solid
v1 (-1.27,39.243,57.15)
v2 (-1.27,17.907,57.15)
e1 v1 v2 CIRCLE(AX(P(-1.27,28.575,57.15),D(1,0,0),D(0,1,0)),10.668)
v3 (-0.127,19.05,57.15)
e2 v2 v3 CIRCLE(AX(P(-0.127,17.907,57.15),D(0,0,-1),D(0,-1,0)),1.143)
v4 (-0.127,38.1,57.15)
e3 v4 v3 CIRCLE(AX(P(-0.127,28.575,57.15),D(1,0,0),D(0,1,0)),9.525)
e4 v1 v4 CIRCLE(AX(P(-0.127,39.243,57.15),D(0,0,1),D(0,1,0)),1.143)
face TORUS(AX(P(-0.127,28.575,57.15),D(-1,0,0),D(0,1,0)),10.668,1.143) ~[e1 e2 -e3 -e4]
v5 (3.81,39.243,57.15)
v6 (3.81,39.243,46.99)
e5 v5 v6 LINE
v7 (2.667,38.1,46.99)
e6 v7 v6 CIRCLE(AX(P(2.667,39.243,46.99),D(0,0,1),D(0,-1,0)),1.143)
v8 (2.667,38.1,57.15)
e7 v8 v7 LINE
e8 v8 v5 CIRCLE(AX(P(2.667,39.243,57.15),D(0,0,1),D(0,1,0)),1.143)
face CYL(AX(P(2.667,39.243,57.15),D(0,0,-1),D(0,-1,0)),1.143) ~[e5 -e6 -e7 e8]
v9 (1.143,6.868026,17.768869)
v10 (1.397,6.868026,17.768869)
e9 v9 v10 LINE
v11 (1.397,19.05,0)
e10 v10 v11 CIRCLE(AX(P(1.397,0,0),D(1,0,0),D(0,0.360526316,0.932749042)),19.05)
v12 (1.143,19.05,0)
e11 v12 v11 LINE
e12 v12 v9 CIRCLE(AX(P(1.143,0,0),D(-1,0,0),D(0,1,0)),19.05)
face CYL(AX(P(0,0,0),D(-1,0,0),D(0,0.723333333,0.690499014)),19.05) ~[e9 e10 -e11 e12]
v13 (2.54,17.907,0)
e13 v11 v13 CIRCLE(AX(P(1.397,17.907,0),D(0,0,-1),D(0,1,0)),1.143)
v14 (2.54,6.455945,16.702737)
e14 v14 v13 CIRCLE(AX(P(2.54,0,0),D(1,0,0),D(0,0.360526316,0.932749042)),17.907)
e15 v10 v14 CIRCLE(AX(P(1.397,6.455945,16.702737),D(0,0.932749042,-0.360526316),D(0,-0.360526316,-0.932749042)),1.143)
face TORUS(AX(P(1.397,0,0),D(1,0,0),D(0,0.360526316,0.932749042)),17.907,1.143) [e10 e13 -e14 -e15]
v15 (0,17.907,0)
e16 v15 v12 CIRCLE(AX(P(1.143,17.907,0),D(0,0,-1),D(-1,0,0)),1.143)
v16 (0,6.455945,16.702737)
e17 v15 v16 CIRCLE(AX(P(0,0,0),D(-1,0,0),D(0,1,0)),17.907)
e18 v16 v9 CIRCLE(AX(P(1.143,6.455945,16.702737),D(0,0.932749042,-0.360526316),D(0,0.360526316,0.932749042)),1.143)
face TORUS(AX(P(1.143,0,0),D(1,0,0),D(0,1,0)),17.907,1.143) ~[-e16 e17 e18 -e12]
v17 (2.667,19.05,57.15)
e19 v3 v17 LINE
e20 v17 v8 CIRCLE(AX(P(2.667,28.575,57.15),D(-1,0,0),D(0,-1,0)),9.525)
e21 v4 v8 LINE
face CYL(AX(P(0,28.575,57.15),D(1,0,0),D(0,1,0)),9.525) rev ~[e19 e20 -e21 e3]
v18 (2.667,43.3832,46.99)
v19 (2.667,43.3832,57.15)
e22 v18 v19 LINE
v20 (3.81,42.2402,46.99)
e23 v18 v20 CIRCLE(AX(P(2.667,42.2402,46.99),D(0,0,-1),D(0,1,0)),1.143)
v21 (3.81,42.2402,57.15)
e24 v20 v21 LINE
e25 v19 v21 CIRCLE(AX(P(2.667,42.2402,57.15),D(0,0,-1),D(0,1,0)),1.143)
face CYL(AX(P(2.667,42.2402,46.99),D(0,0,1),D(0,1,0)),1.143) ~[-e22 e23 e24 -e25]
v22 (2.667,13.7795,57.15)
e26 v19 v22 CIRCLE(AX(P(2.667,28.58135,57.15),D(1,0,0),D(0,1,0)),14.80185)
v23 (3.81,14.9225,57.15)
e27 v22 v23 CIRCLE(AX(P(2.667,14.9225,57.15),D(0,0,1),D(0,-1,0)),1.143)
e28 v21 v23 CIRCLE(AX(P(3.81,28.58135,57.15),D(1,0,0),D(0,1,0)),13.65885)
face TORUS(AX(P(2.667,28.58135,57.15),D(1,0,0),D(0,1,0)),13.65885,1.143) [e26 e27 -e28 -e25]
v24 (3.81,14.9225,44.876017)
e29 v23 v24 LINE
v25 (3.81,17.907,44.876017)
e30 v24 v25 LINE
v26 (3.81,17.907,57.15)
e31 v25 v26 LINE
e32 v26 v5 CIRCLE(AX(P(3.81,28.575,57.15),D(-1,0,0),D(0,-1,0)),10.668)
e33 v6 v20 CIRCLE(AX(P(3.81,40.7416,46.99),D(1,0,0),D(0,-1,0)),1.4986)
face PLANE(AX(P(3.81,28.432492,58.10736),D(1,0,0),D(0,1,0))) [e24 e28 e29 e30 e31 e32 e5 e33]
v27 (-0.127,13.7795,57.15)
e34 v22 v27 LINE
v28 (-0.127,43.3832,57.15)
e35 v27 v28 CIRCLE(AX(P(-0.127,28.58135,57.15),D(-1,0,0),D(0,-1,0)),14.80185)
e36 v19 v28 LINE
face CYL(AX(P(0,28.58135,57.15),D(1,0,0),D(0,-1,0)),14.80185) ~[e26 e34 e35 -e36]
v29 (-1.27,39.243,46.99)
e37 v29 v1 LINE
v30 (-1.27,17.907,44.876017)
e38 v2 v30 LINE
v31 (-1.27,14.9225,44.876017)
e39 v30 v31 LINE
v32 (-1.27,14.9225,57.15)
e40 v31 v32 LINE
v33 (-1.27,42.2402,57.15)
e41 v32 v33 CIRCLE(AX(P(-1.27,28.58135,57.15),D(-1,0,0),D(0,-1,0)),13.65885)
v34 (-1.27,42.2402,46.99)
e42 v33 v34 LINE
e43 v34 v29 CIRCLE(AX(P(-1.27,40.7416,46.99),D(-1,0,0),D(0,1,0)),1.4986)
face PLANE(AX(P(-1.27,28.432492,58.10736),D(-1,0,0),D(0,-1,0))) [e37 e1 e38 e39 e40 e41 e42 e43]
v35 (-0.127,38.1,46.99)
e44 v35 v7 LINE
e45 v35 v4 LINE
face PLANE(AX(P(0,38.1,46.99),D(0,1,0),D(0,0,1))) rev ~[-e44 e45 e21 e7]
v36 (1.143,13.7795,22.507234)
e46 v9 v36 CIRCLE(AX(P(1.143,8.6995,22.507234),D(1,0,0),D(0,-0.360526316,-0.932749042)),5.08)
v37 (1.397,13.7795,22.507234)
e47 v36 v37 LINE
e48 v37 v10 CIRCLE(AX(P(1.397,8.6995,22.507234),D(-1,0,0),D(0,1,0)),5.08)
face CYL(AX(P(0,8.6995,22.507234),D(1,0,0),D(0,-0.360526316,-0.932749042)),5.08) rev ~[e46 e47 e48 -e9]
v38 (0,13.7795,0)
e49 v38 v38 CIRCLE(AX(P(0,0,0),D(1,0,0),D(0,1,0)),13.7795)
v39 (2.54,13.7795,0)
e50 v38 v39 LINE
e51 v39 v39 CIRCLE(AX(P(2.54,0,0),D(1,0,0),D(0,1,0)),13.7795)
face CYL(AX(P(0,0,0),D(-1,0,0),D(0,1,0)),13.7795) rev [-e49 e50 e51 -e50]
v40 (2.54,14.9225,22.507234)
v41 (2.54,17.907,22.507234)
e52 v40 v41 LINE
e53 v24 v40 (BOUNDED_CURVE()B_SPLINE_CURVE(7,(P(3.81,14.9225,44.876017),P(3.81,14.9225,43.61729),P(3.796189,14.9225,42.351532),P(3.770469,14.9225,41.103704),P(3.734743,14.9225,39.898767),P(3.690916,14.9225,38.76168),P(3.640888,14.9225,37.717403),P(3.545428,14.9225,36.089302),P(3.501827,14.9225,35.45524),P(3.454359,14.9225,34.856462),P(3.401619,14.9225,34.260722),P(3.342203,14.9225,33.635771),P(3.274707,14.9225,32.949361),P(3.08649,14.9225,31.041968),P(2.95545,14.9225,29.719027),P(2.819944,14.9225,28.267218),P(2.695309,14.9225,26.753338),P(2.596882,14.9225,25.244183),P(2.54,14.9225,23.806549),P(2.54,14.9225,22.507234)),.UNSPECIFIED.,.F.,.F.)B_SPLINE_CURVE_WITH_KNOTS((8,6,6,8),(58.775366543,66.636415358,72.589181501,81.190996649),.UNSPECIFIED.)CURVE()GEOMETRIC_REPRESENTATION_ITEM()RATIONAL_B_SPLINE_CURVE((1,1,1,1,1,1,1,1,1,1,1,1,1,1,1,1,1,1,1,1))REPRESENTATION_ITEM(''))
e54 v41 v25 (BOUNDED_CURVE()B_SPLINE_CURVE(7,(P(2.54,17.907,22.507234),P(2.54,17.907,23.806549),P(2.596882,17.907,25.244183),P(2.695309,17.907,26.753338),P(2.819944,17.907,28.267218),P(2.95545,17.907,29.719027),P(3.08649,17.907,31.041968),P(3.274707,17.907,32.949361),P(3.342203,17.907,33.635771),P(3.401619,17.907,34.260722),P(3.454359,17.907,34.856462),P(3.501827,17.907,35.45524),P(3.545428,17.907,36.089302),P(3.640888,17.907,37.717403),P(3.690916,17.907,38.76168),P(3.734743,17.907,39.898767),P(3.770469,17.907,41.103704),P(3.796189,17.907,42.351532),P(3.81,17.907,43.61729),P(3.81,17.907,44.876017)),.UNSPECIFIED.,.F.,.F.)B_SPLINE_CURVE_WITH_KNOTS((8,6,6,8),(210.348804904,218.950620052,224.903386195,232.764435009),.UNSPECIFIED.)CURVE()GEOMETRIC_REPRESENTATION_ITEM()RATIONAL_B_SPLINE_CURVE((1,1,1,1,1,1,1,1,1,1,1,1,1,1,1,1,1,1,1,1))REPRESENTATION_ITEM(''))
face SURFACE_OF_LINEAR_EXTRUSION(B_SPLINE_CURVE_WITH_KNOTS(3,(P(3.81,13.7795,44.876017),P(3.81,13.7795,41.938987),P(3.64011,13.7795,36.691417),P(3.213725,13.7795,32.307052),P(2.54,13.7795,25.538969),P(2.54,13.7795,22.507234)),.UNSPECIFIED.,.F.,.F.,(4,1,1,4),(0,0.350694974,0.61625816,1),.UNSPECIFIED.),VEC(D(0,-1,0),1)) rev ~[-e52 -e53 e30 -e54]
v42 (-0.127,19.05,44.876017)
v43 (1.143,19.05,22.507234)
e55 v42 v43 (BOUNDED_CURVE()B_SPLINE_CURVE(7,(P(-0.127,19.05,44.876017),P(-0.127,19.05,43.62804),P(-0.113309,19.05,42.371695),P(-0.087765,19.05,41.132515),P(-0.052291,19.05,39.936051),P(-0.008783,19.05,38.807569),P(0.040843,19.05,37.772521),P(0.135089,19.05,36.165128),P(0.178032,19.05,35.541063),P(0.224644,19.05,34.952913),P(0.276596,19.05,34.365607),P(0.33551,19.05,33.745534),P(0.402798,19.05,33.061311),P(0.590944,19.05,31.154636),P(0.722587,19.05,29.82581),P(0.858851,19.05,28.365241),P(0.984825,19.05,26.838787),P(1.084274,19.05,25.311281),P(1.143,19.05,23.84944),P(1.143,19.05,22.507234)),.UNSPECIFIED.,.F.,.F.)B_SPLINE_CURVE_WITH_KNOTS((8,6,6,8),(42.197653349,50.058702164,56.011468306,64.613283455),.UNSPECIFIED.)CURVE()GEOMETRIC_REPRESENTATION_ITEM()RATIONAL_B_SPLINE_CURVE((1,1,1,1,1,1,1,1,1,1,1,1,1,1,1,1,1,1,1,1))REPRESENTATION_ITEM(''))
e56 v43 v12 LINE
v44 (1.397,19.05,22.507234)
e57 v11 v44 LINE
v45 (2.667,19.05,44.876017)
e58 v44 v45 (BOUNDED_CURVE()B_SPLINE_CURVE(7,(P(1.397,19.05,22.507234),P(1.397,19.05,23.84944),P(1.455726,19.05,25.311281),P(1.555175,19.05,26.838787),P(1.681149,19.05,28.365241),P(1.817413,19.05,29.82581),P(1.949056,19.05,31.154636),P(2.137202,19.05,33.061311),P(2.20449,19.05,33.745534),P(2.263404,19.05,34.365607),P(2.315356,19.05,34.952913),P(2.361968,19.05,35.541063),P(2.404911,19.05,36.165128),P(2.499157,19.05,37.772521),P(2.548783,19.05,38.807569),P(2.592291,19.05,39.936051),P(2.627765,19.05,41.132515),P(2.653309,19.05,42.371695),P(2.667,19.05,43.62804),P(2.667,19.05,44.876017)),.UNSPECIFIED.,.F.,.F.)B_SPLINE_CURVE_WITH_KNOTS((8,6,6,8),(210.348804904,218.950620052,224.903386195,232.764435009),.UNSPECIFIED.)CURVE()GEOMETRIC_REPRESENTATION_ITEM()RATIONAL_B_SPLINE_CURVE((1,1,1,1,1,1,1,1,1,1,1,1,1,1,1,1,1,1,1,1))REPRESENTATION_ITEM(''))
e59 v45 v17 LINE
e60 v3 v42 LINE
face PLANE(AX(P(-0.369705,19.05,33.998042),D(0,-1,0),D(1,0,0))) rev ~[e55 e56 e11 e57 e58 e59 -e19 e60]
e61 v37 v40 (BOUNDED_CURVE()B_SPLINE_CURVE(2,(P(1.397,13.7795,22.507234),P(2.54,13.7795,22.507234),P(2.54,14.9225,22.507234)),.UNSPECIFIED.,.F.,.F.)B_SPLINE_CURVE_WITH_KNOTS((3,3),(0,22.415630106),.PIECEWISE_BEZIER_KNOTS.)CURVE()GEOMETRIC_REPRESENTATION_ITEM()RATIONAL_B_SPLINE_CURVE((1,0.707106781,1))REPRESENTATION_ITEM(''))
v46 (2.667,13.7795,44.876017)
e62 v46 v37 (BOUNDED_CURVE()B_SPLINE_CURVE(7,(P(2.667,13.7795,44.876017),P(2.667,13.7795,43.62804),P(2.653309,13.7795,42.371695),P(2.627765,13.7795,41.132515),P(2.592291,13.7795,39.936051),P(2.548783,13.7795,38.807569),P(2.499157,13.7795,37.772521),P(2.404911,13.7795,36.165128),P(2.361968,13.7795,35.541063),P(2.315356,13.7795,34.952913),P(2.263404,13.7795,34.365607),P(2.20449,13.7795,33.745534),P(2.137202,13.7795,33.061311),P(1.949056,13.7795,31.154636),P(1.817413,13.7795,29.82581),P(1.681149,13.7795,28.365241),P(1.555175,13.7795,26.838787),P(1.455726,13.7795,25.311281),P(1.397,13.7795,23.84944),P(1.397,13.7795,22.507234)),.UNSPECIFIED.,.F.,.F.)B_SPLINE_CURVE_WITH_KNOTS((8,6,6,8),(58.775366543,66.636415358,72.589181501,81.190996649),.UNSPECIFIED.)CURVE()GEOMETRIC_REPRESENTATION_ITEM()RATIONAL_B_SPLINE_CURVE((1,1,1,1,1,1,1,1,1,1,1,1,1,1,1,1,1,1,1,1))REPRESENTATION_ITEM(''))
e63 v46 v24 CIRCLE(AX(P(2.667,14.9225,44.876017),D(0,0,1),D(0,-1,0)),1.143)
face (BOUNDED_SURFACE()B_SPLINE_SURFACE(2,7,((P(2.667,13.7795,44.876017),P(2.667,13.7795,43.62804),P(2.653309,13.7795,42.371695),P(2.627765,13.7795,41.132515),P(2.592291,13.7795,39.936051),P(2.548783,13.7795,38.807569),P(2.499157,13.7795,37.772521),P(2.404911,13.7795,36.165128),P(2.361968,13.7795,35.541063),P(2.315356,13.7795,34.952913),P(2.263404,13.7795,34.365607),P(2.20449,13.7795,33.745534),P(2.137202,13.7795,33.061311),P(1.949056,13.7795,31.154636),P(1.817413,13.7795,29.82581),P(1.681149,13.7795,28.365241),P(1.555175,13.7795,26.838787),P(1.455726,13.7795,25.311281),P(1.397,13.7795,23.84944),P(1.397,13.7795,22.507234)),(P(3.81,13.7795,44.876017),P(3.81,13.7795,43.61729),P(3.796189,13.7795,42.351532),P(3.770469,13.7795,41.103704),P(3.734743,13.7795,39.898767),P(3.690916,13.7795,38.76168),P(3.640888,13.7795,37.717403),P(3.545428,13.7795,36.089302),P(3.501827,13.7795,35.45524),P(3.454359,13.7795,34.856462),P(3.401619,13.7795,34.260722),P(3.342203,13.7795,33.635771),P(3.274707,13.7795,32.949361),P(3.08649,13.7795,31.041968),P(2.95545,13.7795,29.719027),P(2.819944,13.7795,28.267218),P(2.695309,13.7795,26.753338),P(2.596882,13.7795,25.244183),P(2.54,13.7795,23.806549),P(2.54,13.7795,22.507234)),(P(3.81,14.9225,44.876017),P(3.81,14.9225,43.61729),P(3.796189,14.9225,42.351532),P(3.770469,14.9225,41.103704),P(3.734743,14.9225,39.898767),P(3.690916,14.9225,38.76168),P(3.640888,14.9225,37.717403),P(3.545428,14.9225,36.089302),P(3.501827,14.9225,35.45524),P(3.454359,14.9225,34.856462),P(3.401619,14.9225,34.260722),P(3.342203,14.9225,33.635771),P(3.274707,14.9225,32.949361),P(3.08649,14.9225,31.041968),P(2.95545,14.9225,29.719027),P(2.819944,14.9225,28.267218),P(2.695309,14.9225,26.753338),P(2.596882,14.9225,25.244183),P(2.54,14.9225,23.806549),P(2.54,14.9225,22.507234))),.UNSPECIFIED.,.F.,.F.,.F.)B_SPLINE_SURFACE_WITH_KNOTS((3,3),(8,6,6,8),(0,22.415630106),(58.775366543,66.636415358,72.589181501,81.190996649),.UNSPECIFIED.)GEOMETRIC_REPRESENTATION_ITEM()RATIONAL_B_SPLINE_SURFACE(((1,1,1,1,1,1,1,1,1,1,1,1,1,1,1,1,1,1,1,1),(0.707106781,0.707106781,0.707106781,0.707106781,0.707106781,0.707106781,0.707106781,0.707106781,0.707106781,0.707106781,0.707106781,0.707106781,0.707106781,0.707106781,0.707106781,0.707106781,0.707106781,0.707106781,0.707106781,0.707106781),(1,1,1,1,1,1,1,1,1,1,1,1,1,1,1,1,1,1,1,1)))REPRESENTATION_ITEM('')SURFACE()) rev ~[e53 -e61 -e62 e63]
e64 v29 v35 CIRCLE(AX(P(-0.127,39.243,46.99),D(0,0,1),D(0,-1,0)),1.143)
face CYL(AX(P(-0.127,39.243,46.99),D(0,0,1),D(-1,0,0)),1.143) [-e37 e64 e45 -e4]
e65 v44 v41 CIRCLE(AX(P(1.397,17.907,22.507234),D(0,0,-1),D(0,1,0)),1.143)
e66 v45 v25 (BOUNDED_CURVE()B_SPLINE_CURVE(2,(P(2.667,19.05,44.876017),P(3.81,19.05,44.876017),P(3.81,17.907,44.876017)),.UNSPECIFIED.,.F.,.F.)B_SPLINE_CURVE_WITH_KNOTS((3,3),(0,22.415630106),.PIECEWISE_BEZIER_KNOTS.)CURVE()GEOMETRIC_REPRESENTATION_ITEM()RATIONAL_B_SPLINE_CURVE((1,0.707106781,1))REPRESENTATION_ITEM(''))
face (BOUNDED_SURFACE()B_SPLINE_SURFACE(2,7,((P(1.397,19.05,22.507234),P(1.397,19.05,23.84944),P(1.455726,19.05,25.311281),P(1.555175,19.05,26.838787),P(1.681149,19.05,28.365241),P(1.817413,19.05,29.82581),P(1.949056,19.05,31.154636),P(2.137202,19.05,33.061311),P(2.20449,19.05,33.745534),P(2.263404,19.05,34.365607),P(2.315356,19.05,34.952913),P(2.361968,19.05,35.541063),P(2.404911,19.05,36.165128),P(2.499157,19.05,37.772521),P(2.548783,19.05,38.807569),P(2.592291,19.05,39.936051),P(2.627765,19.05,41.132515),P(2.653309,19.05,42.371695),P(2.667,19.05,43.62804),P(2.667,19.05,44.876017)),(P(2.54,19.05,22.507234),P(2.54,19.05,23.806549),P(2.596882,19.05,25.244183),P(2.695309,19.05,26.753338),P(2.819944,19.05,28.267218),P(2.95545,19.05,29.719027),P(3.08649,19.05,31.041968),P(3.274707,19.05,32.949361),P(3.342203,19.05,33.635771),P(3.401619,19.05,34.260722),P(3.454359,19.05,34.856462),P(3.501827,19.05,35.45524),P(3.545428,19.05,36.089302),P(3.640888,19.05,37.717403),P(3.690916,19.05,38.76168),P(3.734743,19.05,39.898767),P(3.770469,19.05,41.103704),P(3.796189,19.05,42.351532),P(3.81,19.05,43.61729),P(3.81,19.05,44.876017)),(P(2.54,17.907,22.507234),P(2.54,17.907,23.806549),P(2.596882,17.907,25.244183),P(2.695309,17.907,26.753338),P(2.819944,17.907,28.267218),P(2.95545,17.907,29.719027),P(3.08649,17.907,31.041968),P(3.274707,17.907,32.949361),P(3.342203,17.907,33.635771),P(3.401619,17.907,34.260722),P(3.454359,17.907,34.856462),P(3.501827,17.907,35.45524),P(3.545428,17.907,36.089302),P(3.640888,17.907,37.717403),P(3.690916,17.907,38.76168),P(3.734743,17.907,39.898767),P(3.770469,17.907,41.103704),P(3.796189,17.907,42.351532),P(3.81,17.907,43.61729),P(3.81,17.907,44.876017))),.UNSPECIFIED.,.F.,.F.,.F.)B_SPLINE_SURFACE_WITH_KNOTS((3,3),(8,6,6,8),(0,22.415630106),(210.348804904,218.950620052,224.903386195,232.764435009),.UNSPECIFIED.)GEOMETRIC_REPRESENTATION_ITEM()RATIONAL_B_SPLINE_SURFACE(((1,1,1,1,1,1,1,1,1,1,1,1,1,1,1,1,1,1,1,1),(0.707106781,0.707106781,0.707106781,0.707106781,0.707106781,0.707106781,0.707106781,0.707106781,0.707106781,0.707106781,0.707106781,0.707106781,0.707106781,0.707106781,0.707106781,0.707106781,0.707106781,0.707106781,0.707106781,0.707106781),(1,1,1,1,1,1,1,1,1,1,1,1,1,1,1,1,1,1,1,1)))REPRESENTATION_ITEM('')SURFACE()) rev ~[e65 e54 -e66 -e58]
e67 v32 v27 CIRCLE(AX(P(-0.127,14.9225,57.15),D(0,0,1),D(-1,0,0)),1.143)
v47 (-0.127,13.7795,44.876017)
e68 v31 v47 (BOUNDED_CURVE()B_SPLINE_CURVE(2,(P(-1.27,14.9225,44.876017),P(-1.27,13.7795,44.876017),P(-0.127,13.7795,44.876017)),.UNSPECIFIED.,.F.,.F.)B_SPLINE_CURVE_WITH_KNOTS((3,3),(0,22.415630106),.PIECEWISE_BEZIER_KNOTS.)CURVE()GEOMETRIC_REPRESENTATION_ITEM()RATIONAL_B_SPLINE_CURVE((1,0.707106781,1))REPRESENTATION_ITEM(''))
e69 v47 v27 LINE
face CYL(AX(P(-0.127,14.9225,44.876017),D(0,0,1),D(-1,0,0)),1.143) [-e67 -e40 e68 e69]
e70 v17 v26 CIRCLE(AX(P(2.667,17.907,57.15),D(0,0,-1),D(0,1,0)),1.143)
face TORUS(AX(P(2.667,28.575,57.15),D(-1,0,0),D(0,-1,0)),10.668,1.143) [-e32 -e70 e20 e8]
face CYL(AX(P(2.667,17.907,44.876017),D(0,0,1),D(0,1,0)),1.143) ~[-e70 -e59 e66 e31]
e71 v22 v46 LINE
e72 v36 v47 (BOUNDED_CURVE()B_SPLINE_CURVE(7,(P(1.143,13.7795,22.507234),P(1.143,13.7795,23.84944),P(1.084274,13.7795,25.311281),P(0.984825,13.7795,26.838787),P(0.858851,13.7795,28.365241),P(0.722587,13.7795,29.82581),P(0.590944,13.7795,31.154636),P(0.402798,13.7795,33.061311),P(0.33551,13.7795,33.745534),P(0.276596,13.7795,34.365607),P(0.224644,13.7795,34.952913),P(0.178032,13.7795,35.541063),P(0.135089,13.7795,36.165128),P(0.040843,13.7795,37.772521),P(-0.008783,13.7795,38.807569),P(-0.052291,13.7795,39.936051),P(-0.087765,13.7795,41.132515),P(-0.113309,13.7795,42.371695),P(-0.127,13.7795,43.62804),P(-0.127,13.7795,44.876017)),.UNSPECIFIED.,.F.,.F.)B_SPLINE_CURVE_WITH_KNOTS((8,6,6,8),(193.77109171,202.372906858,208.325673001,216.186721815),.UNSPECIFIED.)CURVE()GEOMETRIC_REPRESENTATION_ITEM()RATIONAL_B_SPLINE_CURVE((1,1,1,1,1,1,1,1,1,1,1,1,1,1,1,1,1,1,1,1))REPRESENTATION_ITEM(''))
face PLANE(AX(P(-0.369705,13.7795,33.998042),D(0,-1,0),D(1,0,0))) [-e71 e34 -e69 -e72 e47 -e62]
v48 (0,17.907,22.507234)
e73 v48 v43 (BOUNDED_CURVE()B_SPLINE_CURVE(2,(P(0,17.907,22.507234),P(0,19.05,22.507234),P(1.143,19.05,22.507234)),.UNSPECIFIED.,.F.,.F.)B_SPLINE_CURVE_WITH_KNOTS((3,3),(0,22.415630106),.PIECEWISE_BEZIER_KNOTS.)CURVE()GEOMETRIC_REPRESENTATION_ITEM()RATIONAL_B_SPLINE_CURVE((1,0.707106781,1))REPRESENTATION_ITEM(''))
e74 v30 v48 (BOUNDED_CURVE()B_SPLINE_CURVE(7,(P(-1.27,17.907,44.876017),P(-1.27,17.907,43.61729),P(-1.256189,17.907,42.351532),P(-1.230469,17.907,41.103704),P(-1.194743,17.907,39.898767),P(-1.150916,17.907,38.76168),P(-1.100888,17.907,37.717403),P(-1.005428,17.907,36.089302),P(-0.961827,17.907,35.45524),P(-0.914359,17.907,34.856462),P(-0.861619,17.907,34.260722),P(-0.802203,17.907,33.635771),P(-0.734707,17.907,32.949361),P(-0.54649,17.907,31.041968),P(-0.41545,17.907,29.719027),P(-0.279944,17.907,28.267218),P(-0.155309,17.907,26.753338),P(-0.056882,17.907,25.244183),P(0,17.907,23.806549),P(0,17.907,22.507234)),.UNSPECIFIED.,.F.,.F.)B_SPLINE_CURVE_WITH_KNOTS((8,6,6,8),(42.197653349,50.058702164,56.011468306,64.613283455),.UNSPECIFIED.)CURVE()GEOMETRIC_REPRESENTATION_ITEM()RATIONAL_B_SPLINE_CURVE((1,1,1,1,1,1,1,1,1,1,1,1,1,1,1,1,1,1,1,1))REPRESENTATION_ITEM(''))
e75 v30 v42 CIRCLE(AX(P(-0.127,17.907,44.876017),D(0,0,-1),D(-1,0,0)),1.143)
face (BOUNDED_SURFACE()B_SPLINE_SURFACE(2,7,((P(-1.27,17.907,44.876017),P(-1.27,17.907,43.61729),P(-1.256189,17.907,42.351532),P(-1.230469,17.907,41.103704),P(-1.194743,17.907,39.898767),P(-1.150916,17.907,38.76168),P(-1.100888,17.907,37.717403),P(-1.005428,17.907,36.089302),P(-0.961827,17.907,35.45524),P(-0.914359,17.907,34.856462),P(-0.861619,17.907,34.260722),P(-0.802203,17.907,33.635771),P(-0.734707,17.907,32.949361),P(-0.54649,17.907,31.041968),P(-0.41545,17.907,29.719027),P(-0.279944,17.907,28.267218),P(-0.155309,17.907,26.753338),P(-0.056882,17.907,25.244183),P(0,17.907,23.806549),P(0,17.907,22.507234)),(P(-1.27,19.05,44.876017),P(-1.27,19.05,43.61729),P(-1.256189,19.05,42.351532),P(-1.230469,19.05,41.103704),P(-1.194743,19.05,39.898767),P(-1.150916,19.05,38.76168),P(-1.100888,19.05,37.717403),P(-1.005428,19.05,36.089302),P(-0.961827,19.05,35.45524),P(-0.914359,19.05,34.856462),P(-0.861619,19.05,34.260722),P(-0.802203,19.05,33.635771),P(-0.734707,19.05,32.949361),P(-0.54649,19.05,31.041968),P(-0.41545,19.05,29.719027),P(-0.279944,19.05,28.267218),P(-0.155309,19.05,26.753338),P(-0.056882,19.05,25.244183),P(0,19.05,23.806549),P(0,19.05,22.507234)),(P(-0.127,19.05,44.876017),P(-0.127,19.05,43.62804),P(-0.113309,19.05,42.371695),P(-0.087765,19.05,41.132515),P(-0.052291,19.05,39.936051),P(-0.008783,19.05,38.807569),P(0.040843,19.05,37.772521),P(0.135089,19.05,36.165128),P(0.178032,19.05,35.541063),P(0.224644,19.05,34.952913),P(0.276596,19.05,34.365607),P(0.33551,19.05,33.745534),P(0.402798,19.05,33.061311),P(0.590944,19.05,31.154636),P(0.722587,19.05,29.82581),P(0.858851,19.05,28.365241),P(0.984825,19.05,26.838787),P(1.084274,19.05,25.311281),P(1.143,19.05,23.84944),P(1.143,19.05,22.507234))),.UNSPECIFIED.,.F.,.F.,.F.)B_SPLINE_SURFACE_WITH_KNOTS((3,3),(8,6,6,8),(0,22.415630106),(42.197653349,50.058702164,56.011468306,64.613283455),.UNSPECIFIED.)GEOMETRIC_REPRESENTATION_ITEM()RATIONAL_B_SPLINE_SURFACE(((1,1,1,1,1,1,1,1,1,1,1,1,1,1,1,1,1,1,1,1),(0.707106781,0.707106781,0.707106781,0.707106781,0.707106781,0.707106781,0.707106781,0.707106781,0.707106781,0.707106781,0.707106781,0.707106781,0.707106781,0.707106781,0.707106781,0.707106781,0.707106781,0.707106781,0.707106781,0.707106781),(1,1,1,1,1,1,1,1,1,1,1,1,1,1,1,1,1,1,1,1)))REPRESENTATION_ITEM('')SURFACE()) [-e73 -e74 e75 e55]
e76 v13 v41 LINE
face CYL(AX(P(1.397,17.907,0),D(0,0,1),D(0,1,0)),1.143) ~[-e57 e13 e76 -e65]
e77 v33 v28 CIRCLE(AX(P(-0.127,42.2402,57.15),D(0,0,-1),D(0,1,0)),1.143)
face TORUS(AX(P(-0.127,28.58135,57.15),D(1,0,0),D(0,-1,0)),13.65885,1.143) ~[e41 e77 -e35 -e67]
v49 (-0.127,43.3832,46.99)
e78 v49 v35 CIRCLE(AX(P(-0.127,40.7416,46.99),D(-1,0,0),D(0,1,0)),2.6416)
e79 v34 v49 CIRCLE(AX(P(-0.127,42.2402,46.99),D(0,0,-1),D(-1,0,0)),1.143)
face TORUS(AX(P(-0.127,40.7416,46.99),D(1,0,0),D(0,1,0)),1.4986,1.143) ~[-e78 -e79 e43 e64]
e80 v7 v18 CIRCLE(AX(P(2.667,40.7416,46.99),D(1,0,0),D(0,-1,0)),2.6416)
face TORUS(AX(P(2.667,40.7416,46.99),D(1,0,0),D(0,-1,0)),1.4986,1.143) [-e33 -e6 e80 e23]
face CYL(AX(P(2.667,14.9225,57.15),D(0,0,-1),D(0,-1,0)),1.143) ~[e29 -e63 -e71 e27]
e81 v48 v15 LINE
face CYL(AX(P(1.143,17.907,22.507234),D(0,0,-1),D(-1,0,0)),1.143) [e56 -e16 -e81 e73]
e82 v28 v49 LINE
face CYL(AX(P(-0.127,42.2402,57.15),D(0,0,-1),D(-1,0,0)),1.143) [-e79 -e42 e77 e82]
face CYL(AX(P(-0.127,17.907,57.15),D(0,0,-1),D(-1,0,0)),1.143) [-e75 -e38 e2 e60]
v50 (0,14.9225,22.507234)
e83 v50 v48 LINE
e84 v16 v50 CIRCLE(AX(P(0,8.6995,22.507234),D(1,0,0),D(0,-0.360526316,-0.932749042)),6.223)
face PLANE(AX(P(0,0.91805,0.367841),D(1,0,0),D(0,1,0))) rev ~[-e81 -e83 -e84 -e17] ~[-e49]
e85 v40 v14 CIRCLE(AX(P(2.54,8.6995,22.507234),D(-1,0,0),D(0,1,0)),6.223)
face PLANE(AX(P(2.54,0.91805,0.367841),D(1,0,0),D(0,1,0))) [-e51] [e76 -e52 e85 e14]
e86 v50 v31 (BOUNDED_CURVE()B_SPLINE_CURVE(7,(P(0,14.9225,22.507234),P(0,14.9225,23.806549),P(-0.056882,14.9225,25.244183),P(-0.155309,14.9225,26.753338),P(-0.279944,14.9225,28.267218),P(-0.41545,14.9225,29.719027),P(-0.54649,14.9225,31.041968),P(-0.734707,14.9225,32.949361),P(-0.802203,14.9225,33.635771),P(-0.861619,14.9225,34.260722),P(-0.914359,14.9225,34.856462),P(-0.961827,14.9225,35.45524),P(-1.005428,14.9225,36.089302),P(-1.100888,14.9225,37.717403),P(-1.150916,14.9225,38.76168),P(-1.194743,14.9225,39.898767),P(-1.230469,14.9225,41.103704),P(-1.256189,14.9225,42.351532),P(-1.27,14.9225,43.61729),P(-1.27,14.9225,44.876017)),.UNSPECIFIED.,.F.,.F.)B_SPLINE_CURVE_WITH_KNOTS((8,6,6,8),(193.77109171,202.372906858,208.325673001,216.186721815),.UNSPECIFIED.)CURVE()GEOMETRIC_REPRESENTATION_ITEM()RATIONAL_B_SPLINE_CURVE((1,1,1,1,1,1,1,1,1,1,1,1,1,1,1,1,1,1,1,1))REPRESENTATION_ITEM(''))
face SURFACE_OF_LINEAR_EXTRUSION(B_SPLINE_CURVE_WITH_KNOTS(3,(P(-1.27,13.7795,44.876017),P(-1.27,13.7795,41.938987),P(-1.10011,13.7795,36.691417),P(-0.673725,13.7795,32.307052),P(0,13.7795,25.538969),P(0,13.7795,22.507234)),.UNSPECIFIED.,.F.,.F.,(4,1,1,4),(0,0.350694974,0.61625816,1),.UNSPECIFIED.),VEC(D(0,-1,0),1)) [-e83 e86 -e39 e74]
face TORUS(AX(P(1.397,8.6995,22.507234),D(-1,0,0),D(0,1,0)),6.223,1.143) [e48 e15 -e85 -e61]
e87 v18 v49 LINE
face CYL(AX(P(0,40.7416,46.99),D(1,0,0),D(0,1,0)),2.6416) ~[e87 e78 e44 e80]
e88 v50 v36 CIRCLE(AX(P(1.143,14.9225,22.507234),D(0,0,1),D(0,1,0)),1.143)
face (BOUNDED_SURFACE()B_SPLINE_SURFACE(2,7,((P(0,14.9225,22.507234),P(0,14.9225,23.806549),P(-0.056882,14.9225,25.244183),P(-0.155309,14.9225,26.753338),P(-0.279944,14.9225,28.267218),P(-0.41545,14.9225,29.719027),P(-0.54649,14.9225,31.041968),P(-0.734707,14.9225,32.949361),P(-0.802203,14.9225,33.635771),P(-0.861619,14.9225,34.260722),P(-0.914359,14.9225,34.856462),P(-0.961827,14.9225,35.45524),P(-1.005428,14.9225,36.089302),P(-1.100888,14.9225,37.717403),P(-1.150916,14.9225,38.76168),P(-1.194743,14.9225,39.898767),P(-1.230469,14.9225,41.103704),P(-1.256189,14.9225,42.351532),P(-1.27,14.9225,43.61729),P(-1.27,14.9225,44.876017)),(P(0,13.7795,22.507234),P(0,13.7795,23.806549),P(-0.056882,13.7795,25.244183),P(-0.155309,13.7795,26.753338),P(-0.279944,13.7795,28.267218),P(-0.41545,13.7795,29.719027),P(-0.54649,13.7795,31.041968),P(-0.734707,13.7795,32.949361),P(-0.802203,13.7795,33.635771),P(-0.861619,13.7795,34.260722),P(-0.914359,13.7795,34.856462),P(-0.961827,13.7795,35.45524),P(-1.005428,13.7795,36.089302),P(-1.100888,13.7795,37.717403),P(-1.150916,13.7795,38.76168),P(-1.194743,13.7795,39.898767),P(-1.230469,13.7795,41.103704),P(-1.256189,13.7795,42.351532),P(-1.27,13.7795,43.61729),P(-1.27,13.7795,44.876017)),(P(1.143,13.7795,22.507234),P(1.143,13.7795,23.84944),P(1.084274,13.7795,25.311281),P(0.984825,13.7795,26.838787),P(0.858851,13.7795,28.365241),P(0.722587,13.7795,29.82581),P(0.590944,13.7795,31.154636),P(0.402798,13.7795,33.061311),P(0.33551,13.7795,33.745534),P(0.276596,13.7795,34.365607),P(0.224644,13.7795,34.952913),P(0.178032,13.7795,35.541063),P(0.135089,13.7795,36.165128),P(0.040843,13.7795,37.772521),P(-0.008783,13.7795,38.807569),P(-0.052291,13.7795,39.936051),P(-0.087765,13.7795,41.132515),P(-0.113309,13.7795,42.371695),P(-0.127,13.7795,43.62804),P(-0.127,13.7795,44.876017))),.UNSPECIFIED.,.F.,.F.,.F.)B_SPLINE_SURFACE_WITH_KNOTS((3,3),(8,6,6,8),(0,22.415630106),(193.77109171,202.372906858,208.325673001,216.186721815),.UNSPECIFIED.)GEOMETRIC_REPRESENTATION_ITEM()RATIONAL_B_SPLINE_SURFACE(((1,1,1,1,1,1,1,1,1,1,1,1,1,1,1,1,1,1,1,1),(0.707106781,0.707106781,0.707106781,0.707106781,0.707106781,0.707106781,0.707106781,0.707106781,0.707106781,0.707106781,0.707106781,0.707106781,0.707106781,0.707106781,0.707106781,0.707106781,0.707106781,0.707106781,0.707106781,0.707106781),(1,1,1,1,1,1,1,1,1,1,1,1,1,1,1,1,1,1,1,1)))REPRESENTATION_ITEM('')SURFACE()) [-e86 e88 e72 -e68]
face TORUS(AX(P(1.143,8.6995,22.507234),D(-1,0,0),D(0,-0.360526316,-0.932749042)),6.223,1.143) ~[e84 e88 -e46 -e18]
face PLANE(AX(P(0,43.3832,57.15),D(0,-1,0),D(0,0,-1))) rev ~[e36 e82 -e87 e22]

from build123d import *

# Parameters (mm, degrees)
F0_R     = 13.7795
F1_DEPTH = 2.54
F2_R     = 5.08
F4_DEPTH = 1.27
F6_DEPTH = 1.27
F8_DEPTH = 5.2705
F9_R     = 1.143


with BuildPart() as f1:
    # F0 (on Right) → F1 (new body)
    with BuildSketch(Plane.YZ):
        with BuildLine():
            ThreePointArc((19.05, 0), (17.6833534009, 7.0853025694), (13.7795, 13.1540062243))
            ThreePointArc((13.7795, 13.1540062243), (-17.6833534009, -7.0853025694), (19.05, 0))
        make_face()
        Circle(F0_R, mode=Mode.SUBTRACT)
        with BuildLine():
            Line((13.7795, 57.15), (13.7795, 13.1540062243))
            ThreePointArc((13.7795, 13.1540062243), (17.6833534009, 7.0853025694), (19.05, 0))
            Line((19.05, 0), (19.05, 57.15))
            ThreePointArc((19.05, 57.15), (28.575, 66.675), (38.1, 57.15))
            Line((38.1, 57.15), (38.1, 46.99))
            ThreePointArc((38.1, 46.99), (40.7416, 44.3484), (43.3832, 46.99))
            Line((43.3832, 46.99), (43.3832, 57.15))
            ThreePointArc((43.3832, 57.15), (28.58135, 71.95185), (13.7795, 57.15))
        make_face()
    extrude(amount=F1_DEPTH)

    # F2
    f2_edges = [f1.edges().sort_by_distance(p)[0] for p in [
        (1.27, 13.7795, 13.154006),
    ]]
    fillet(f2_edges, radius=F2_R)

    # F3 (on face) → F4 (join)
    with BuildSketch(Plane.YZ.offset(2.54)):
        with BuildLine():
            Line((13.7795, 44.8760166764), (19.05, 44.8760166764))
            Line((19.05, 44.8760166764), (19.05, 57.15))
            ThreePointArc((19.05, 57.15), (28.575, 66.675), (38.1, 57.15))
            Line((38.1, 57.15), (38.1, 46.99))
            ThreePointArc((38.1, 46.99), (40.7416, 44.3484), (43.3832, 46.99))
            Line((43.3832, 46.99), (43.3832, 57.15))
            ThreePointArc((43.3832, 57.15), (28.58135, 71.95185), (13.7795, 57.15))
            Line((13.7795, 57.15), (13.7795, 44.8760166764))
        make_face()
    extrude(amount=F4_DEPTH)

    # F5 (on face) → F6 (join)
    with BuildSketch(Plane(origin=(0, 0, 0), x_dir=(0, -1, 0), z_dir=(-1, 0, 0))):
        with BuildLine():
            Line((-19.05, 57.15), (-19.05, 44.8760166764))
            Line((-19.05, 44.8760166764), (-13.7795, 44.8760166764))
            Line((-13.7795, 44.8760166764), (-13.7795, 57.15))
            ThreePointArc((-13.7795, 57.15), (-28.58135, 71.95185), (-43.3832, 57.15))
            Line((-43.3832, 57.15), (-43.3832, 46.99))
            ThreePointArc((-43.3832, 46.99), (-40.7416, 44.3484), (-38.1, 46.99))
            Line((-38.1, 46.99), (-38.1, 57.15))
            ThreePointArc((-38.1, 57.15), (-28.575, 66.675), (-19.05, 57.15))
        make_face()
    extrude(amount=F6_DEPTH)

    # F7 (on face) → F8 (join, through all)
    with BuildSketch(Plane.XZ.offset(-13.7795)):
        with BuildLine():
            Line((0, 44.8760166764), (-1.27, 44.8760166764))
            add(Edge.make_bspline(
                [(-1.27, 44.8760166764), (-1.27, 41.9389868527), (-1.1001096664, 36.6914165172), (-0.673724923, 32.307052024), (0, 25.5389690077), (0, 22.507234387)],
                knots=[0, 0, 0, 0, 0.3506949739, 0.6162581597, 1, 1, 1, 1], degree=3))
            Line((0, 22.507234387), (0, 44.8760166764))
        make_face()
        with BuildLine():
            Line((2.54, 44.8760166764), (2.54, 22.507234387))
            add(Edge.make_bspline(
                [(3.81, 44.8760166764), (3.81, 41.9389868527), (3.6401096664, 36.6914165172), (3.213724923, 32.307052024), (2.54, 25.5389690077), (2.54, 22.507234387)],
                knots=[0, 0, 0, 0, 0.3506949739, 0.6162581597, 1, 1, 1, 1], degree=3))
            Line((3.81, 44.8760166764), (2.54, 44.8760166764))
        make_face()
    extrude(amount=-F8_DEPTH)

    # F9
    f9_edges = [f1.edges().sort_by_distance(p)[0] for p in [
        (-1.27, 28.575, 66.675),
        (3.81, 28.58135, 71.95185),
    ]]
    fillet(f9_edges, radius=F9_R)


solid = f1.part
